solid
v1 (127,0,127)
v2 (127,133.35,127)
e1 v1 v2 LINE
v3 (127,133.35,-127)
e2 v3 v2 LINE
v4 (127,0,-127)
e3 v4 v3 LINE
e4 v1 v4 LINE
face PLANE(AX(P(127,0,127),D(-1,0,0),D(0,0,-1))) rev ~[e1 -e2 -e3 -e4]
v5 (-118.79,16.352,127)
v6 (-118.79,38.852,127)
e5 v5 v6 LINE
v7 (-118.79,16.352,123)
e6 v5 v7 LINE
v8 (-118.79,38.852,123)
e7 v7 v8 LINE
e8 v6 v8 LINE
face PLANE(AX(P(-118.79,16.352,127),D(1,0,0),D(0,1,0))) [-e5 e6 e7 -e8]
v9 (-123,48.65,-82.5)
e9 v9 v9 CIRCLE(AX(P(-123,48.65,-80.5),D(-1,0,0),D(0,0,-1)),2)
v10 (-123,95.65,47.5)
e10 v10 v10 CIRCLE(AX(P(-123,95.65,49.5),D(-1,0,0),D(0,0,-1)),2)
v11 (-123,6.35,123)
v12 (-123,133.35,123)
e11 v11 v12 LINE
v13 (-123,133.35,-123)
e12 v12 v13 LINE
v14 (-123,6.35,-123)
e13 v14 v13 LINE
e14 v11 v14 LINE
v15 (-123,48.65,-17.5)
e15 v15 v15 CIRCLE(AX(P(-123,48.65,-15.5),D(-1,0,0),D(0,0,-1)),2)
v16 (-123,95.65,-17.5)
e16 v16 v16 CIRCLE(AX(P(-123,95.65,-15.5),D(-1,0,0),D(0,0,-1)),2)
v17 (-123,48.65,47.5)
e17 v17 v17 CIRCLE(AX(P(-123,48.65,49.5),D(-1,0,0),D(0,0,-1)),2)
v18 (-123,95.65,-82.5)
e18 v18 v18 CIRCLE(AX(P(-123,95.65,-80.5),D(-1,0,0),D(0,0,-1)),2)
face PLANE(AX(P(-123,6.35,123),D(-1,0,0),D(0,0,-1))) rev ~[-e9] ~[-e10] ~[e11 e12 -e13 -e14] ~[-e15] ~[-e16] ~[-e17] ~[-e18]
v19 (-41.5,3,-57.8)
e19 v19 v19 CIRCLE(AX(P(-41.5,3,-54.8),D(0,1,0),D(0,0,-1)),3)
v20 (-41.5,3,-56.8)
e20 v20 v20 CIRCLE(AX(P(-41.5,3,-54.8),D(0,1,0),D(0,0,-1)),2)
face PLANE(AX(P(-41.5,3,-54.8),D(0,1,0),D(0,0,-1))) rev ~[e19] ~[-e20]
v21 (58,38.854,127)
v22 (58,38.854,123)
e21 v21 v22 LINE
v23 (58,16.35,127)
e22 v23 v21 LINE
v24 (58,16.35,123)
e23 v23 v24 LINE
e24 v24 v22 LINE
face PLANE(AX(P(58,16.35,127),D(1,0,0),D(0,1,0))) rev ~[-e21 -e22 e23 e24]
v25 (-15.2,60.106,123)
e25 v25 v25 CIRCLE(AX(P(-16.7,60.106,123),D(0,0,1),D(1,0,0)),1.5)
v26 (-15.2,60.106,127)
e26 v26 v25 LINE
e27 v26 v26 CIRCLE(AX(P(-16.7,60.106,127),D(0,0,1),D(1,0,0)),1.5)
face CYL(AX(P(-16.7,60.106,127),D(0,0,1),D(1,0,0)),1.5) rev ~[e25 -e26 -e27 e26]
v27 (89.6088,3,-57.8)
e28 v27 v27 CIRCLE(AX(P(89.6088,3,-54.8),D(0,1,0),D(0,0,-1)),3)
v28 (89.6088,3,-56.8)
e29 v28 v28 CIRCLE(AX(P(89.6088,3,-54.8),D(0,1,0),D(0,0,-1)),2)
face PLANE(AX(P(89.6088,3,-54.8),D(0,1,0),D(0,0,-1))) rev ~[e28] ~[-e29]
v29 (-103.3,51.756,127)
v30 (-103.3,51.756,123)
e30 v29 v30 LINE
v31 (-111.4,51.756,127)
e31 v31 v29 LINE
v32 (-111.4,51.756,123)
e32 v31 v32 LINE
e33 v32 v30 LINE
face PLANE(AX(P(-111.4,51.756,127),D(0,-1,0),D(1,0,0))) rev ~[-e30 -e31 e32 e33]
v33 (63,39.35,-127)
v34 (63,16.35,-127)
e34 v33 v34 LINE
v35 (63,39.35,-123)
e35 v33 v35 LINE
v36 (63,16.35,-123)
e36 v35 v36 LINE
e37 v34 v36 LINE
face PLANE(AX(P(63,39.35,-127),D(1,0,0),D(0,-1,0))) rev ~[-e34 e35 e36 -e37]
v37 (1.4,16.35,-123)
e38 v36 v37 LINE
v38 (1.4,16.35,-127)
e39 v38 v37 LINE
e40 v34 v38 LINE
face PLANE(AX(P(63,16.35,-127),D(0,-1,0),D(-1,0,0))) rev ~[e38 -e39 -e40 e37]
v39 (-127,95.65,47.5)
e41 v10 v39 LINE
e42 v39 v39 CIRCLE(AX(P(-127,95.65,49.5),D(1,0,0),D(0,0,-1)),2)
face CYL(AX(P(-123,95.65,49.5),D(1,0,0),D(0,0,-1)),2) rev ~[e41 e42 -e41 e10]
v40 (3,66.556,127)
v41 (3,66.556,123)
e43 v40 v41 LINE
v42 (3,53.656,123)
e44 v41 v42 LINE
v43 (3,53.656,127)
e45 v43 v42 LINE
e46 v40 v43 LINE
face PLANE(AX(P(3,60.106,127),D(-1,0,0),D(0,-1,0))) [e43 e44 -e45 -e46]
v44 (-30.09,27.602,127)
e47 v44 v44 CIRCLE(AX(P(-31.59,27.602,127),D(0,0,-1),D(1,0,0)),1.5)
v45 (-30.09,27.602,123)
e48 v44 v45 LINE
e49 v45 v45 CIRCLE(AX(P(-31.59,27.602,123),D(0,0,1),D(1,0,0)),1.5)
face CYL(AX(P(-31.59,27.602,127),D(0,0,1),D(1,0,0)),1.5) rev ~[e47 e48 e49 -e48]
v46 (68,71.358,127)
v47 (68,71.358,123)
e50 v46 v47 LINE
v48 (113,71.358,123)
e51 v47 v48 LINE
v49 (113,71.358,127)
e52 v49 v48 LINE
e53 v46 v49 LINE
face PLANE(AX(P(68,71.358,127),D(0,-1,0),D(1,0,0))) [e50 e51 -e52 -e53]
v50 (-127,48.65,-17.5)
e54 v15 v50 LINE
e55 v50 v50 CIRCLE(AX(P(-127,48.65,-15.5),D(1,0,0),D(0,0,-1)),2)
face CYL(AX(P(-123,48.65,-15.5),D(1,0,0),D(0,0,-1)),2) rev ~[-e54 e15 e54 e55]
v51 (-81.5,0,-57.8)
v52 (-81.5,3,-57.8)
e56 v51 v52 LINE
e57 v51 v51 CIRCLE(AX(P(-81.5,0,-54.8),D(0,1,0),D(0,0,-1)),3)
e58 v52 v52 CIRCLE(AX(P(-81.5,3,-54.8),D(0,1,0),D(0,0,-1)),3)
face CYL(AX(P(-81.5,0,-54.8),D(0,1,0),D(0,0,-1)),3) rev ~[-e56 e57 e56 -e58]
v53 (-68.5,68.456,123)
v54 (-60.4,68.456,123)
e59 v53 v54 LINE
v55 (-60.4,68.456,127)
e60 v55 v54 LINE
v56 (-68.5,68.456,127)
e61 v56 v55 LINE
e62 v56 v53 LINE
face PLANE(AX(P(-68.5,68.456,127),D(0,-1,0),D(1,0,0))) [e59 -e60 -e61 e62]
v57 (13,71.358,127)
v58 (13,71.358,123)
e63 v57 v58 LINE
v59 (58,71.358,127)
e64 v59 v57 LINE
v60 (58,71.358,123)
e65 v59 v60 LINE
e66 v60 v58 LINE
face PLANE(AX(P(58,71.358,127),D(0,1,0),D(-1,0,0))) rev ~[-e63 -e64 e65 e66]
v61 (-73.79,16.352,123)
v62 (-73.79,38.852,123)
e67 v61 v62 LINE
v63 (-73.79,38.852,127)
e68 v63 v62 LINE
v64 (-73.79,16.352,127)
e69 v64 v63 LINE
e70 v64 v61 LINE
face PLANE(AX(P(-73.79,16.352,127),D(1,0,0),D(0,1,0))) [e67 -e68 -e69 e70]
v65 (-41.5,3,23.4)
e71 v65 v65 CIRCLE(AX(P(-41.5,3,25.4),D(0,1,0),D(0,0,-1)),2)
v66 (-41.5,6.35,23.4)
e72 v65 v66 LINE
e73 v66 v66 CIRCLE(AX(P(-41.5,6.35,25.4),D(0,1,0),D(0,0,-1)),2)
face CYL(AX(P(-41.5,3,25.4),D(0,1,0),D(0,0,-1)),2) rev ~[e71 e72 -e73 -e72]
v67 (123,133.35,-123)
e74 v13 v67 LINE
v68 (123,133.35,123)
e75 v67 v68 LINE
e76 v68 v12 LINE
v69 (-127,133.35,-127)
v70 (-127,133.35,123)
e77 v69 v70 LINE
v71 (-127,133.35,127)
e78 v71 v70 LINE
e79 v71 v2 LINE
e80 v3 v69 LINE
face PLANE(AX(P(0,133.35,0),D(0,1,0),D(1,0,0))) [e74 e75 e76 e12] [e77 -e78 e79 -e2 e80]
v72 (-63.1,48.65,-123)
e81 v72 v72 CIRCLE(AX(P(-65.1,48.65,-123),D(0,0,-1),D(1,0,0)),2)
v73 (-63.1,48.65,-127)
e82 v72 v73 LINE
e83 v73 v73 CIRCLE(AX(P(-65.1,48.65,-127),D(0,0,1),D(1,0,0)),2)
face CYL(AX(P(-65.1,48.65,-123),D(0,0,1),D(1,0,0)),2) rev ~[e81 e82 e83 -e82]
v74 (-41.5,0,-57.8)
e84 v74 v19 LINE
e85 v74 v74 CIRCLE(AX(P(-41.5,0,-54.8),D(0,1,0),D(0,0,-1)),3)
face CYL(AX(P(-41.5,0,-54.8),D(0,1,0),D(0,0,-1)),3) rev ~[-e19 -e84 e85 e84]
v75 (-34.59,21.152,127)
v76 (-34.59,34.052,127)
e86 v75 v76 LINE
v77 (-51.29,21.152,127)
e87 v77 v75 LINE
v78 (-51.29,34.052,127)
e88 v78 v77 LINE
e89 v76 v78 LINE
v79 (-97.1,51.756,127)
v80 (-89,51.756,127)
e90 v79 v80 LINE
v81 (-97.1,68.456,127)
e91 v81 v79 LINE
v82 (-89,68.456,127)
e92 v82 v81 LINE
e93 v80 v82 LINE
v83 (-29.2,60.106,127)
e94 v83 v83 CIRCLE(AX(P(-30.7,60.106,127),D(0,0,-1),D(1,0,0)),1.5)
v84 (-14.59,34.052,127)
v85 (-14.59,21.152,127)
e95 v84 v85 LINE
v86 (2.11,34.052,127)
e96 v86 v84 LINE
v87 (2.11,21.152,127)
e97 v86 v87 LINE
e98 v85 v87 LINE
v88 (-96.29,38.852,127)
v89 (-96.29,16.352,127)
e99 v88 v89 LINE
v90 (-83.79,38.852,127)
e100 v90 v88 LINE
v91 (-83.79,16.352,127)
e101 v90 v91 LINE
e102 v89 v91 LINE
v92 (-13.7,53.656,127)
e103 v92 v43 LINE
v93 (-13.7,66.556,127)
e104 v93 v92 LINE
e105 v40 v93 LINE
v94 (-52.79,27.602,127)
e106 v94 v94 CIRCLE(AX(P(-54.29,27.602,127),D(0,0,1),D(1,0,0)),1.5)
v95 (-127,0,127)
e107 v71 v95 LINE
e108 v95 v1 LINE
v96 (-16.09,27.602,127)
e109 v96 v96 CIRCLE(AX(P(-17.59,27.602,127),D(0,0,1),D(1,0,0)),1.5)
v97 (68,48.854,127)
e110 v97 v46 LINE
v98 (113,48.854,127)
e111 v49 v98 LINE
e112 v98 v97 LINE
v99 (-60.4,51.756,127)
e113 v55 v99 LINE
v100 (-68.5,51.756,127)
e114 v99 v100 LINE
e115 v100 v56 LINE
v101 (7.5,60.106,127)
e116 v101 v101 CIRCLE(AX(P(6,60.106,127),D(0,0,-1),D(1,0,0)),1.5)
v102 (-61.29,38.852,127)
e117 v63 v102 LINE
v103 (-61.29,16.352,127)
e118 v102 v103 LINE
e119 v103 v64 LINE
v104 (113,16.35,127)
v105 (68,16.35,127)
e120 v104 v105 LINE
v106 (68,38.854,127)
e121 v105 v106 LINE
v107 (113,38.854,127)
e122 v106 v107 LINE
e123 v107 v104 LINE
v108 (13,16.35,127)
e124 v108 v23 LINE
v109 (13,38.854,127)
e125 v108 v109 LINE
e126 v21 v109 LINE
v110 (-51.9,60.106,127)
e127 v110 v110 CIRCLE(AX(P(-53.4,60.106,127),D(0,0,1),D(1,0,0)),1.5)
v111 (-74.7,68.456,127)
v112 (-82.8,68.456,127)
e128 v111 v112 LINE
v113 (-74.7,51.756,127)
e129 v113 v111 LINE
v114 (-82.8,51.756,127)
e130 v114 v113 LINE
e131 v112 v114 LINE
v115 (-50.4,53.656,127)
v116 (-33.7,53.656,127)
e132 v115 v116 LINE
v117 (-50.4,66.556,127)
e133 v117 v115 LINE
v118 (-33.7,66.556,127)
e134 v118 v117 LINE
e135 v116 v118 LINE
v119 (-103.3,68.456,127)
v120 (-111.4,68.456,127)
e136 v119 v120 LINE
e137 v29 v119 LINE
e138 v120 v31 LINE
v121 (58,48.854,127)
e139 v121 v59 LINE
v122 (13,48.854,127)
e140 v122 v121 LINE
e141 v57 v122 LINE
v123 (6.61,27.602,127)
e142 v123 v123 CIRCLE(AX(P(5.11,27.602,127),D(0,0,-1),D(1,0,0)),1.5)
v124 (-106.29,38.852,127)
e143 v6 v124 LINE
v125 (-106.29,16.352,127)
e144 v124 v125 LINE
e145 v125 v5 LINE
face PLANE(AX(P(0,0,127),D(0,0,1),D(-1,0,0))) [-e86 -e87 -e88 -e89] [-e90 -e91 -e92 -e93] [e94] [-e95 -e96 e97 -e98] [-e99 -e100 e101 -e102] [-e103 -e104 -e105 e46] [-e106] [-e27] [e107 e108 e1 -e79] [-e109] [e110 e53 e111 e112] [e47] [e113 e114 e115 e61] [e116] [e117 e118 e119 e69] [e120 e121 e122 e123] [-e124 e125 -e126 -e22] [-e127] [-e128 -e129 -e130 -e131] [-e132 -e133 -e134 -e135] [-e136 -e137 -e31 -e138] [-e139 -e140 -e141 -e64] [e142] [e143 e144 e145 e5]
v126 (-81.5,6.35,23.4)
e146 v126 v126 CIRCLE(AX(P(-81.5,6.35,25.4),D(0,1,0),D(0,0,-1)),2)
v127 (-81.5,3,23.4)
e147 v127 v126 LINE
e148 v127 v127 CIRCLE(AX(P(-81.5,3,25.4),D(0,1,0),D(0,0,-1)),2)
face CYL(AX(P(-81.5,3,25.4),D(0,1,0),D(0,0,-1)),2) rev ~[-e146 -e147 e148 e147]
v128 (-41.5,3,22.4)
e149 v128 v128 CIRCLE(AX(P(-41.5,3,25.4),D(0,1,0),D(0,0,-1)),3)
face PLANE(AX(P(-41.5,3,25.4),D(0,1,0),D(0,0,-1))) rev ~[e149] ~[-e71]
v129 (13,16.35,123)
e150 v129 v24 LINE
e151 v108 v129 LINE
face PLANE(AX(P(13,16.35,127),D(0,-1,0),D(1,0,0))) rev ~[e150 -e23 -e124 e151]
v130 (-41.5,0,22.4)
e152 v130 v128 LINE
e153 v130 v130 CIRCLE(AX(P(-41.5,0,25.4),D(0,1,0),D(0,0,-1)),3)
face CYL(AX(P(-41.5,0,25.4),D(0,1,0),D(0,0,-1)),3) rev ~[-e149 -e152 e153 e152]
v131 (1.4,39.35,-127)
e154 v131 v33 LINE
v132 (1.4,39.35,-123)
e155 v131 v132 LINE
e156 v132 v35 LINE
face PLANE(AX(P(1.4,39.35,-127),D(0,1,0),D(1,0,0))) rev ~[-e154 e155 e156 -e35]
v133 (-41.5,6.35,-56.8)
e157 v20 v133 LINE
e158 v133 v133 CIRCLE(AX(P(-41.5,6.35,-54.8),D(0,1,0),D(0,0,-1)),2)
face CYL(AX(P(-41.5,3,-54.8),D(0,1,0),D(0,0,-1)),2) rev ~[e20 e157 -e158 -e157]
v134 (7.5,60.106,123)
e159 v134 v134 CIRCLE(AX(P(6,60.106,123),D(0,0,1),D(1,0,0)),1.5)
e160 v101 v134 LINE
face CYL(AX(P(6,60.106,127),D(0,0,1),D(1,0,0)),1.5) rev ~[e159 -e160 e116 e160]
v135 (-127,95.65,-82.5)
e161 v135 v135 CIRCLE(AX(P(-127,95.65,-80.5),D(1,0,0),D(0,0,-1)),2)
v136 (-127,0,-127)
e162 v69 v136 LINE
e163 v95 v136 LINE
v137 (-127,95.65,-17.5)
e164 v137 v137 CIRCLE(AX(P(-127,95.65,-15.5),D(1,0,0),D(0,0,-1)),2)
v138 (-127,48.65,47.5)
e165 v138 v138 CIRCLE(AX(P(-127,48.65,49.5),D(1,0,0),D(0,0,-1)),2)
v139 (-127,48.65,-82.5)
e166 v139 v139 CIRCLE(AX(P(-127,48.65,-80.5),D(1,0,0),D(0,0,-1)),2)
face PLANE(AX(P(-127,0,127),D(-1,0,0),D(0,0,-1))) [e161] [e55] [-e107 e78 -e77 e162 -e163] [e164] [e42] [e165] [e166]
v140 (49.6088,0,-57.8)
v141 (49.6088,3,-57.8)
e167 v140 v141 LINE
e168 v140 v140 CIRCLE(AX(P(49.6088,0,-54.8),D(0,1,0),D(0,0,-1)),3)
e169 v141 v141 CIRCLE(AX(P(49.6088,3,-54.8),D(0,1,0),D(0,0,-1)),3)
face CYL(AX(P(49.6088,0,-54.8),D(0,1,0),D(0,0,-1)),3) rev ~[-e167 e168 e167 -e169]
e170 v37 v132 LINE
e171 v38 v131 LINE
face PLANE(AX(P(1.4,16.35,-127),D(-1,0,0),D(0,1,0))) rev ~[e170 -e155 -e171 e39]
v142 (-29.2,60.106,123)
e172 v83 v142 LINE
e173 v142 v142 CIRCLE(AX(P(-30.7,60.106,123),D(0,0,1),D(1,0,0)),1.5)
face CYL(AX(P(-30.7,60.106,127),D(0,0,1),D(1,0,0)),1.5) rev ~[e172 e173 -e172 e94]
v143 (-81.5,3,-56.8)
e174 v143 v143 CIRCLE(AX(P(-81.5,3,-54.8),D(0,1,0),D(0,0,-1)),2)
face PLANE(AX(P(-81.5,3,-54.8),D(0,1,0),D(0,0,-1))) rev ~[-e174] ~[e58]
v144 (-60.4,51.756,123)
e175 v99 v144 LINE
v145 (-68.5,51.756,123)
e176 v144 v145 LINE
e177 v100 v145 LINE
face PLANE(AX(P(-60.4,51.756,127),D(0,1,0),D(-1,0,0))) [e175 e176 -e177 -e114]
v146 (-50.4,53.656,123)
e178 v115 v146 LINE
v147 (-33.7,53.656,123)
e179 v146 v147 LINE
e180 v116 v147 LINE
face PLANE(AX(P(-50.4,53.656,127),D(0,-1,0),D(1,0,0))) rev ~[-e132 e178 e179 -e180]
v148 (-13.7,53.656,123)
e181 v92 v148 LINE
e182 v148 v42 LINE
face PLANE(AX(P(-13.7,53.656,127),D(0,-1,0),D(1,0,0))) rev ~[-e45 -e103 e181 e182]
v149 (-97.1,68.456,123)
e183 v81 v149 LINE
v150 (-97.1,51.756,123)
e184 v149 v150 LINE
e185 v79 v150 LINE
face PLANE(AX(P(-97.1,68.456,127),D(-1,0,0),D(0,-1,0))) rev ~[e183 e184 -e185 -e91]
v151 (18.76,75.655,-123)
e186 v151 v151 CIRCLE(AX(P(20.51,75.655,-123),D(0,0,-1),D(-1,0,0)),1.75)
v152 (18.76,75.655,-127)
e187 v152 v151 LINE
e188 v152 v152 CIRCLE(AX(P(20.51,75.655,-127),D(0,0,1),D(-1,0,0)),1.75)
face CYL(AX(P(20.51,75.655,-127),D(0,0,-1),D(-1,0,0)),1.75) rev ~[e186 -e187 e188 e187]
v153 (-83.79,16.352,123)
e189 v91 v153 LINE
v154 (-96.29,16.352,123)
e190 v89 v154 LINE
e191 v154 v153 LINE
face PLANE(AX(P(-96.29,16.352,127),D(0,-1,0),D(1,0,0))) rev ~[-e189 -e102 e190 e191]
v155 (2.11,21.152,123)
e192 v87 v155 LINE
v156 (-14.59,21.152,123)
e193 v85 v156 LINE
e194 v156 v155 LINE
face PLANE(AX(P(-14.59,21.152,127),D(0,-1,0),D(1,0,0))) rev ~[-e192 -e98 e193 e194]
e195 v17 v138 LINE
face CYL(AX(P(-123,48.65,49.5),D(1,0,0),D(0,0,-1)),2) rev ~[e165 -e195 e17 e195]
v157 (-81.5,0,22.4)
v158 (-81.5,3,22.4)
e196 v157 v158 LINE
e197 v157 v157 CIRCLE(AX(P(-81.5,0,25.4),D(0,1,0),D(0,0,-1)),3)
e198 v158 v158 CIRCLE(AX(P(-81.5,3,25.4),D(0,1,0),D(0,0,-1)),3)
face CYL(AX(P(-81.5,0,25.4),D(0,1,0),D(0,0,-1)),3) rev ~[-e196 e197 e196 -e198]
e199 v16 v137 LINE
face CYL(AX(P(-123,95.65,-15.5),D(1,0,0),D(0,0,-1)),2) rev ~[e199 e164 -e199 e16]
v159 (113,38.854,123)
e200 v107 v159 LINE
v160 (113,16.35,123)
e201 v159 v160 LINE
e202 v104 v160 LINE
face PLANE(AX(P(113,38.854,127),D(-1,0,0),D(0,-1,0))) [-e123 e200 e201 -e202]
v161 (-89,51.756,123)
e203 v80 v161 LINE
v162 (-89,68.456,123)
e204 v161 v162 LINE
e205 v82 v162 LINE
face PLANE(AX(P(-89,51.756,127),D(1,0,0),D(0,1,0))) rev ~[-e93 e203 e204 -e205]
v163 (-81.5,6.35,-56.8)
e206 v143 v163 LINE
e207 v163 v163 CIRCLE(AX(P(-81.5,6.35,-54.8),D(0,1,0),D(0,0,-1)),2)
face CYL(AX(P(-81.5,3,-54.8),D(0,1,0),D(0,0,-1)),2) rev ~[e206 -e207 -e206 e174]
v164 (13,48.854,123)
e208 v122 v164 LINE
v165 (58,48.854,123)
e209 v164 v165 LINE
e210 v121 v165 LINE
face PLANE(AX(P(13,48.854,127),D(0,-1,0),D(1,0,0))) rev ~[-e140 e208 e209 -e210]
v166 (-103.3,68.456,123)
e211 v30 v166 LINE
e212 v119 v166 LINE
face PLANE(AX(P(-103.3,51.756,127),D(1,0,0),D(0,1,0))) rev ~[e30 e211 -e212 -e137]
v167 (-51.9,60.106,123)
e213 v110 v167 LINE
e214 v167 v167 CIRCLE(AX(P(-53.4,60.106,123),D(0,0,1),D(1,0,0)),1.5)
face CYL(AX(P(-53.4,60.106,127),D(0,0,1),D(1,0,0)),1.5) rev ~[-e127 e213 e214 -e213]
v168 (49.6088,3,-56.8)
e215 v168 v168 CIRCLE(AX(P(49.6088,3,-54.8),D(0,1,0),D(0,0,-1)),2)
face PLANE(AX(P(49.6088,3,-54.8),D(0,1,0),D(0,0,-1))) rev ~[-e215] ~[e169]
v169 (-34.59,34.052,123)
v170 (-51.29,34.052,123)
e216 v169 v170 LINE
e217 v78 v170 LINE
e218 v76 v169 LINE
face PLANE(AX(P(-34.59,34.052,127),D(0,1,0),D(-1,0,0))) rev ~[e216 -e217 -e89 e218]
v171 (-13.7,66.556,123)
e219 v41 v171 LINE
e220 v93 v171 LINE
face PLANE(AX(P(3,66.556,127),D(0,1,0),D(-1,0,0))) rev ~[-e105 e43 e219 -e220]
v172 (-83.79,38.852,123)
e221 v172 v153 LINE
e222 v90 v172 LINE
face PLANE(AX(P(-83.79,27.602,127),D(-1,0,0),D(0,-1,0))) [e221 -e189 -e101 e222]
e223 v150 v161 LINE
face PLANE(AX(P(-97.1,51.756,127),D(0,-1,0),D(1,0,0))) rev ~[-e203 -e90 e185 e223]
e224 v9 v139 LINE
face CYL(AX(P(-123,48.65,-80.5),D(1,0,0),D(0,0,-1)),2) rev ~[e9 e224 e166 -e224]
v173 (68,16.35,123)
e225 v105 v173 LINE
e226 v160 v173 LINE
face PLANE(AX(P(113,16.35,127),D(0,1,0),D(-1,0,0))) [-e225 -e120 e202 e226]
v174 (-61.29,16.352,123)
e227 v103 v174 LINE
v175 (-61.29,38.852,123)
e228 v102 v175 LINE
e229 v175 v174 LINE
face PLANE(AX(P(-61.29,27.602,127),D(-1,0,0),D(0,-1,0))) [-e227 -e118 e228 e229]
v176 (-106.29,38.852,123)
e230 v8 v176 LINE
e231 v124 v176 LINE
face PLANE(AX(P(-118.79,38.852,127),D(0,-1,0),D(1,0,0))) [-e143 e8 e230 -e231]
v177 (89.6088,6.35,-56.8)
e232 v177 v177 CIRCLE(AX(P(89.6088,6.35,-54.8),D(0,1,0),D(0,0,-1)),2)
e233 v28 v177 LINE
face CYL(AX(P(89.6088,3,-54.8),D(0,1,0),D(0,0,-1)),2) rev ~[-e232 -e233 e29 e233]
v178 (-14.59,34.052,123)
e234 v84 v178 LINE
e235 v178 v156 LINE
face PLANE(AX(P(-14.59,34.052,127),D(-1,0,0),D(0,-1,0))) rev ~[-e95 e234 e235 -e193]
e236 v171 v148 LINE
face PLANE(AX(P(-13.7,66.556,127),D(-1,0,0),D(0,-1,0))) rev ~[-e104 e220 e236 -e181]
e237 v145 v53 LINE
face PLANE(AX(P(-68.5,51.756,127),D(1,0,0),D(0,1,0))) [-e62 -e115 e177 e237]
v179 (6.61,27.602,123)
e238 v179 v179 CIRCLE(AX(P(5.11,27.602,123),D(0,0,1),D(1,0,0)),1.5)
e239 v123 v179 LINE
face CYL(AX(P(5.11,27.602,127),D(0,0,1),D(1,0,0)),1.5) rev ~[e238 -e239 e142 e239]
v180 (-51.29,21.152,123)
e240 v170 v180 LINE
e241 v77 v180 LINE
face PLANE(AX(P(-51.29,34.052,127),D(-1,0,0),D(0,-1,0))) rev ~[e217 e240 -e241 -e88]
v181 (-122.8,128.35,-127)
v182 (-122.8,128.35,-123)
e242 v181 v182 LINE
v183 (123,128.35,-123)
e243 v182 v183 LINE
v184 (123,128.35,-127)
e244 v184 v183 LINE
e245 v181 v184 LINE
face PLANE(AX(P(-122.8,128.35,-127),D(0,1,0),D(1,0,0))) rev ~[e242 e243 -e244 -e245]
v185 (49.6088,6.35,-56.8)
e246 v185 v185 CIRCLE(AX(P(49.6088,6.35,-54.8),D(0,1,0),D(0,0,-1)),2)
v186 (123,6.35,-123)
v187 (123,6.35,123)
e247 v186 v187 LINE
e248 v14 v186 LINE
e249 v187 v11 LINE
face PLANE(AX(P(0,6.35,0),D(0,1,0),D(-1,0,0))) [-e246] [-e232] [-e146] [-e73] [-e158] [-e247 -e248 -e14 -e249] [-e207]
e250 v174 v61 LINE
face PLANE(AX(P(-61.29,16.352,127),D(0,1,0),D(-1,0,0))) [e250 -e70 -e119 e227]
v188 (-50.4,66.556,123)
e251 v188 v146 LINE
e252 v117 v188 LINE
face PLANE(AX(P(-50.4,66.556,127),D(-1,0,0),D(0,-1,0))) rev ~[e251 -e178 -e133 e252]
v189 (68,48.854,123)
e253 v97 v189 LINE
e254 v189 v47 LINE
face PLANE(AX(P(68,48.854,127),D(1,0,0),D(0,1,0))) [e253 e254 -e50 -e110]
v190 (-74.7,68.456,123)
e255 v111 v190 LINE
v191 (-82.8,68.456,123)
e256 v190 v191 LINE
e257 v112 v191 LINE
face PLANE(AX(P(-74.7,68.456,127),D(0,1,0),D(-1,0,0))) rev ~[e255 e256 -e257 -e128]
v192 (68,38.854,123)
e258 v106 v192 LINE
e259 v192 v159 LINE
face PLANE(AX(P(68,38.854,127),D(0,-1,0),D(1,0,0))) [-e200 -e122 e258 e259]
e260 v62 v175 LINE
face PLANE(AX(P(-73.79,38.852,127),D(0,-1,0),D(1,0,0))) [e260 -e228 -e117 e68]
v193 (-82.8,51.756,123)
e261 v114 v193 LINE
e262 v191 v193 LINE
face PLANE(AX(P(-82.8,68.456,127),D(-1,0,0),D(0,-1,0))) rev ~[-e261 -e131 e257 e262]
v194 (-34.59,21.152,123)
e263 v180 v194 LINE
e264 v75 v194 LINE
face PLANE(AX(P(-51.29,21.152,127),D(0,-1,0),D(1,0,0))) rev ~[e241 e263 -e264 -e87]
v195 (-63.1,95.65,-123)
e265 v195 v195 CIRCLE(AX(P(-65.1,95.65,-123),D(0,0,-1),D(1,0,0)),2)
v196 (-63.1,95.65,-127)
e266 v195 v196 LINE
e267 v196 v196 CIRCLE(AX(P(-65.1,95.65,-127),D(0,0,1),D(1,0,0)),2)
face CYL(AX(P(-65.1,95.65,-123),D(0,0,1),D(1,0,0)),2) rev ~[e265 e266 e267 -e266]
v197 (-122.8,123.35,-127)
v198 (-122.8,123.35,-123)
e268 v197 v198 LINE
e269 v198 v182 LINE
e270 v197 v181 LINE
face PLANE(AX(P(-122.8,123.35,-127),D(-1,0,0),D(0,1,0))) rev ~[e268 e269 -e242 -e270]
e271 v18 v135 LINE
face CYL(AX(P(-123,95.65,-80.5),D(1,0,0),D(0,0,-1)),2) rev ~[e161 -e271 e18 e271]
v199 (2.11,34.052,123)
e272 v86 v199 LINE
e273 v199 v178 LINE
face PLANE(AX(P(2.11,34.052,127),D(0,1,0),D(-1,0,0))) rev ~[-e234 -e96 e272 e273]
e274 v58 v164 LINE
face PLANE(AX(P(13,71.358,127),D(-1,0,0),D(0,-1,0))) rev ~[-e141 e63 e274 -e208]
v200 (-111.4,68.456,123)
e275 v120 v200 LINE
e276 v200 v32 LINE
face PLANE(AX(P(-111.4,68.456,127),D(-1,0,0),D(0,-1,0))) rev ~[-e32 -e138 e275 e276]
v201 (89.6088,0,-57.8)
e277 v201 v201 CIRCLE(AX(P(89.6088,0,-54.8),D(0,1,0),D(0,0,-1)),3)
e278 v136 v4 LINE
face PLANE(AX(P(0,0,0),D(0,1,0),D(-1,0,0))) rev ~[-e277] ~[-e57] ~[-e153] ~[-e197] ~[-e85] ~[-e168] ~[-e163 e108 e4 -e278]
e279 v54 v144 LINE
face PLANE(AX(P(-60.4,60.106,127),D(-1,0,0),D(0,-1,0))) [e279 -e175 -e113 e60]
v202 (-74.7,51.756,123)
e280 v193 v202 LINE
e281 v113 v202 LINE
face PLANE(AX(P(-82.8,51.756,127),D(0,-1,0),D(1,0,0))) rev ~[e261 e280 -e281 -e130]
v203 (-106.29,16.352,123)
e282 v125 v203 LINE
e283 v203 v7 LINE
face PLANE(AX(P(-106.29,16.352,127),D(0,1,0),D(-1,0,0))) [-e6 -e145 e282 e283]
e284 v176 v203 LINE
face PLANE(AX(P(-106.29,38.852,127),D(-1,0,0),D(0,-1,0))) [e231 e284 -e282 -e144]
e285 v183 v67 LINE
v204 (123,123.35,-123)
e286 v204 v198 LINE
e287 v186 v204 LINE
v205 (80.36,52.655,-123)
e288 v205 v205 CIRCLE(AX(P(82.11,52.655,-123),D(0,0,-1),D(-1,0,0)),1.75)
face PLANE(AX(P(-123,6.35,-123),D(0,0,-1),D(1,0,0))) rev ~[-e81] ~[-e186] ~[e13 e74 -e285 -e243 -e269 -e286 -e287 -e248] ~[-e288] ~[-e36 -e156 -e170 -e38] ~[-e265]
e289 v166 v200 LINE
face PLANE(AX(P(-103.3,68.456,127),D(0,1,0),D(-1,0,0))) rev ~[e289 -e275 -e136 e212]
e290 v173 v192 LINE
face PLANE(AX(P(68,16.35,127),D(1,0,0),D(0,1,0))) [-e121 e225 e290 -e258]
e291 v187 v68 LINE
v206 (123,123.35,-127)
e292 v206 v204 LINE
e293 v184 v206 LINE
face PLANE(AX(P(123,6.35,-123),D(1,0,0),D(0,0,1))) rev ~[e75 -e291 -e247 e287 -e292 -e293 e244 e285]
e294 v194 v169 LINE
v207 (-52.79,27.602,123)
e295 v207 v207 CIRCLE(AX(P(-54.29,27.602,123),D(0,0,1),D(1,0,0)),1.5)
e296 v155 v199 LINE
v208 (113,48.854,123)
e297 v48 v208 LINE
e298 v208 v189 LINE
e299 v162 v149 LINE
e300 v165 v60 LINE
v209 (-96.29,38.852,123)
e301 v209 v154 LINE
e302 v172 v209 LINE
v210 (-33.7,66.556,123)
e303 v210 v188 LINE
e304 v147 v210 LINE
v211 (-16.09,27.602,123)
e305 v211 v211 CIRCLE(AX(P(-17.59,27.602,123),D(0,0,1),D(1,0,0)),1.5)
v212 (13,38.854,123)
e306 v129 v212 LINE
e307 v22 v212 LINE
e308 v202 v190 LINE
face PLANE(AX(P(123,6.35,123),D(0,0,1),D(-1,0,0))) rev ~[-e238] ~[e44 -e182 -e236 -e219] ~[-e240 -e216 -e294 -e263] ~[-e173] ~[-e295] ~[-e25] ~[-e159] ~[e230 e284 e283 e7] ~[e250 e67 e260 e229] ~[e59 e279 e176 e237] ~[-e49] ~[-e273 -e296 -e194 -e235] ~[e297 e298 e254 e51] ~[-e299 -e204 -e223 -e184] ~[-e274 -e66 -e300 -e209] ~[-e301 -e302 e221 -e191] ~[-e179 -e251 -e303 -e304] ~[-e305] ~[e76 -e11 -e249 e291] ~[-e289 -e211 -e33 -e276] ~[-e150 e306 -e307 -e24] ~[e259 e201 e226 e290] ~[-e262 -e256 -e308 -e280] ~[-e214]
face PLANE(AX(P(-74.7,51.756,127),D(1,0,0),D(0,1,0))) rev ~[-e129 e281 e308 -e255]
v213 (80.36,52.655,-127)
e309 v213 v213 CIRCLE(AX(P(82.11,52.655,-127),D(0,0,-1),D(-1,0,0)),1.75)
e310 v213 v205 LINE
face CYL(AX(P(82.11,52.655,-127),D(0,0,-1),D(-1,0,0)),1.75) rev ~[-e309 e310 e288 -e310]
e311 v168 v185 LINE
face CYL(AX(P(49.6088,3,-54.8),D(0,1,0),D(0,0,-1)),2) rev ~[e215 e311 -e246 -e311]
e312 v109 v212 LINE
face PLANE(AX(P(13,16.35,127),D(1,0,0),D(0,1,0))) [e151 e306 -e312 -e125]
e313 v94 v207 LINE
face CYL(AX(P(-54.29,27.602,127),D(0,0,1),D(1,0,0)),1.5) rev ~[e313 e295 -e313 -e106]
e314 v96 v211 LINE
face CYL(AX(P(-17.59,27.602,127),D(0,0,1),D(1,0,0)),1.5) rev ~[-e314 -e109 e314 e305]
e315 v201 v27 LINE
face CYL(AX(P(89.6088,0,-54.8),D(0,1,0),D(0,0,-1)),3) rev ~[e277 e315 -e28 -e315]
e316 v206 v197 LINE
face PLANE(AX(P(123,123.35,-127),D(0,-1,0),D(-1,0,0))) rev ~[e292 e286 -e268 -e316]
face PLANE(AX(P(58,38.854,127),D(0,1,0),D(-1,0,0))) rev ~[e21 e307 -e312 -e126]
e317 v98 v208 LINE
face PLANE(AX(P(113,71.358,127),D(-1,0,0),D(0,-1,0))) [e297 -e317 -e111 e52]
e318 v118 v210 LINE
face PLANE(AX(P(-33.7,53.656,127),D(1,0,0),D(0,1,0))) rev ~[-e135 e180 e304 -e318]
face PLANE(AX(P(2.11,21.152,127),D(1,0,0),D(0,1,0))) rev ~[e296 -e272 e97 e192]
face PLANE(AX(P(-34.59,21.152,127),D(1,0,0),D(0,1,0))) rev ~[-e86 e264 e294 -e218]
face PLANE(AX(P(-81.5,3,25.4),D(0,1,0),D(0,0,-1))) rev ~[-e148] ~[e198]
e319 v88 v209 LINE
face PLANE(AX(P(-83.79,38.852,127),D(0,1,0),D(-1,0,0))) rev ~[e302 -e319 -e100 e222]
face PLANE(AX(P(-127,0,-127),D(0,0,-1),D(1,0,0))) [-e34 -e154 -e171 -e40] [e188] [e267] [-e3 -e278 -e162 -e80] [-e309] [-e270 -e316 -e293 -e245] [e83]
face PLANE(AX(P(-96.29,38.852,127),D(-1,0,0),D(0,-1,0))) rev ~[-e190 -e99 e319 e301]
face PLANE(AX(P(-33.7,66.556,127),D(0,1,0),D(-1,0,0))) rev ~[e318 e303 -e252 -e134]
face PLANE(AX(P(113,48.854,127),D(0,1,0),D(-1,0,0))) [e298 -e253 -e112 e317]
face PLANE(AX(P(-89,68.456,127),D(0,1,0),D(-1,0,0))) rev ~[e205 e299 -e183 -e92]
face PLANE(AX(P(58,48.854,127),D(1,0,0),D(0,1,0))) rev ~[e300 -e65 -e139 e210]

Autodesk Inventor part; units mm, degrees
ref_plane "YZ Plane" through (0, 0, 0) normal (1, 0, 0) x (0, 1, 0)
ref_plane "XZ Plane" through (0, 0, 0) normal (0, 1, 0) x (-1, 0, 0)
ref_plane "XY Plane" through (0, 0, 0) normal (0, 0, 1) x (1, 0, 0)
sketch "Sketch1" plane through (0, 0, 0) normal (0, 1, 0) x (-1, 0, 0)
  line L0 (0, 0) -> (0, 127)
  line L1 (0, 127) -> (127, 127)
  line L2 (127, 127) -> (127, -127)
  line L3 (127, -127) -> (-127, -127)
  line L4 (0, 127) -> (-127, 127)
  line L5 (-127, 127) -> (-127, -127)
  dimension "d0" = 127
  dimension "d1" = 127
  dimension "d2" = 254
  dimension "d3" = 254
  dimension "d4" = 127
extrude "Extrusion1" add sketch "Sketch1" along normal blind 6.35
sketch "Sketch2" plane through (0, 6.35, 0) normal (0, 1, 0) x (1, 0, 0)
  line L0 (-127, -127) -> (127, -127) projected
  line L1 (-127, -127) -> (-127, -123)
  line L2 (-127, 127) -> (-127, -127) projected
  line L3 (-127, -123) -> (-123, -123)
  line L4 (-123, -123) -> (-123, 123)
  line L5 (-123, 123) -> (123, 123)
  line L6 (127, 127) -> (-127, 127) projected
  line L7 (123, 123) -> (123, -123)
  line L8 (123, -123) -> (-123, -123)
  line L9 (-127, -127) -> (127, -127)
  line L10 (127, 127) -> (127, -127)
  line L11 (-127, 127) -> (127, 127)
  line L12 (-127, 127) -> (-127, -127)
  point P0 (0, 0)
  dimension "d7" = 4
  dimension "d8" = 4
  dimension "d9" = 246
  dimension "d10" = 246
  dimension "d11" = 90
extrude "Extrusion2" add sketch "Sketch2" along normal blind 127
sketch "Sketch3" plane through (-127, 0, 127) normal (0, 0, 1) x (1, 0, 0)
  line L0 (4, 6.35) -> (250, 6.35) projected
  line L1 (250, 6.35) -> (250, 16.35)
  line L2 (250, 6.35) -> (250, 133.35) projected
  line L3 (250, 16.35) -> (240, 16.35)
  line L4 (240, 16.35) -> (195, 16.35)
  line L5 (195, 16.35) -> (195, 38.854)
  line L6 (195, 38.854) -> (240, 38.854)
  line L7 (240, 38.854) -> (240, 16.35)
  line L8 (240, 38.854) -> (240, 48.854)
  line L9 (240, 48.854) -> (195, 48.854)
  line L10 (195, 48.854) -> (195, 71.358)
  line L11 (195, 71.358) -> (240, 71.358)
  line L12 (240, 71.358) -> (240, 48.854)
  line L13 (195, 48.854) -> (185, 48.854)
  line L14 (185, 48.854) -> (185, 71.358)
  line L15 (185, 71.358) -> (140, 71.358)
  line L16 (140, 71.358) -> (140, 48.854)
  line L17 (140, 48.854) -> (185, 48.854)
  line L18 (185, 48.854) -> (185, 38.854)
  line L19 (185, 38.854) -> (140, 38.854)
  line L20 (140, 16.35) -> (140, 38.854)
  line L21 (140, 16.35) -> (185, 16.35)
  line L22 (185, 16.35) -> (185, 38.854)
  point P0 (127, 0)
  dimension "d14" = 10
  dimension "d15" = 10
  dimension "d16" = 45
  dimension "d17" = 22.504
  dimension "d18" = 10
  dimension "d19" = 22.504
  dimension "d20" = 10
  dimension "d21" = 45
sketch "Sketch4" plane through (-127, 0, 127) normal (0, 0, 1) x (1, 0, 0)
  line L0 (140, 71.358) -> (140, 48.854) projected
  line L1 (0, 0) -> (254, 0) projected
  line L2 (254, 0) -> (254, 133.35) projected
  line L3 (0, 133.35) -> (254, 133.35) projected
  line L4 (0, 0) -> (0, 133.35) projected
  line L5 (140, 16.35) -> (140, 38.854) projected
  line L6 (140, 60.106) -> (130, 60.106)
  line L7 (130, 60.106) -> (130, 66.556)
  line L8 (130, 66.556) -> (130, 60.106)
  line L9 (130, 60.106) -> (130, 53.656)
  line L10 (130, 66.556) -> (113.3, 66.556)
  line L11 (113.3, 66.556) -> (113.3, 53.656)
  line L12 (113.3, 53.656) -> (130, 53.656)
  line L13 (113.3, 66.556) -> (93.3, 66.556)
  line L14 (93.3, 66.556) -> (76.6, 66.556)
  line L15 (76.6, 66.556) -> (76.6, 53.656)
  line L16 (76.6, 53.656) -> (93.3, 53.656)
  line L17 (93.3, 53.656) -> (93.3, 66.556)
  line L18 (140, 27.602) -> (129.11, 27.602)
  line L19 (129.11, 27.602) -> (129.11, 34.052)
  line L20 (129.11, 34.052) -> (112.41, 34.052)
  line L21 (112.41, 34.052) -> (112.41, 21.152)
  line L22 (112.41, 21.152) -> (129.11, 21.152)
  line L23 (129.11, 21.152) -> (129.11, 27.602)
  line L24 (112.41, 34.052) -> (92.41, 34.052)
  line L25 (92.41, 34.052) -> (75.71, 34.052)
  line L26 (75.71, 21.152) -> (92.41, 21.152)
  line L27 (92.41, 21.152) -> (92.41, 34.052)
  line L28 (75.71, 34.052) -> (75.71, 21.152)
  point P0 (127, 0)
  dimension "d22" = 10
  dimension "d23" = 6.45
  dimension "d24" = 6.45
  dimension "d25" = 16.7
  dimension "d26" = 20
  dimension "d27" = 16.7
  dimension "d28" = 6.45
  dimension "d29" = 12.9
  dimension "d162" = 20
  dimension "d163" = 16.7
  dimension "d164" = 16.7
extrude "Extrusion4" cut sketch "Sketch4" against normal blind 101.6 contours L9 L12 L11 L10 L7 | L17 L16 L15 L14 | L23 L22 L21 L20 L19 | L27 L26 L28 L25
extrude "Extrusion5" cut sketch "Sketch3" against normal blind 19
sketch "Sketch6" plane through (-127, 0, 127) normal (0, 0, 1) x (1, 0, 0)
  line L0 (76.6, 53.656) -> (76.6, 66.556) projected
  line L1 (76.6, 60.106) -> (66.6, 60.106)
  line L2 (66.6, 60.106) -> (66.6, 51.756)
  line L3 (66.6, 51.756) -> (58.5, 51.756)
  line L4 (58.5, 51.756) -> (58.5, 68.456)
  line L5 (58.5, 68.456) -> (66.6, 68.456)
  line L6 (66.6, 68.456) -> (66.6, 60.106)
  line L7 (58.5, 68.456) -> (55.4, 68.456)
  line L8 (55.4, 68.456) -> (52.3, 68.456)
  line L9 (52.3, 68.456) -> (44.2, 68.456)
  line L10 (44.2, 68.456) -> (44.2, 51.756)
  line L11 (44.2, 51.756) -> (52.3, 51.756)
  line L12 (52.3, 51.756) -> (52.3, 68.456)
  line L13 (44.2, 68.456) -> (38, 68.456)
  line L14 (38, 68.456) -> (29.9, 68.456)
  line L15 (29.9, 68.456) -> (29.9, 51.756)
  line L16 (29.9, 51.756) -> (38, 51.756)
  line L17 (38, 51.756) -> (38, 68.456)
  line L18 (29.9, 68.456) -> (23.7, 68.456)
  line L19 (23.7, 68.456) -> (15.6, 68.456)
  line L20 (15.6, 68.456) -> (15.6, 51.756)
  line L21 (15.6, 51.756) -> (23.7, 51.756)
  line L22 (23.7, 51.756) -> (23.7, 68.456)
  point P0 (127, 0)
  dimension "d38" = 10
  dimension "d39" = 8.35
  dimension "d40" = 8.1
  dimension "d41" = 16.7
  dimension "d42" = 3.1
  dimension "d43" = 3.1
  dimension "d44" = 8.1
  dimension "d45" = 6.2
  dimension "d46" = 8.1
  dimension "d47" = 6.2
  dimension "d48" = 8.1
sketch "Sketch7" plane through (-127, 0, 127) normal (0, 0, 1) x (1, 0, 0)
  line L0 (85.71, 27.602) -> (65.71, 27.602)
  line L1 (65.71, 27.602) -> (65.71, 38.852)
  line L2 (65.71, 27.602) -> (65.71, 16.352)
  line L3 (65.71, 16.352) -> (53.21, 16.352)
  line L4 (53.21, 16.352) -> (53.21, 38.852)
  line L5 (53.21, 38.852) -> (65.71, 38.852)
  line L6 (53.21, 27.602) -> (43.21, 27.602)
  line L7 (43.21, 27.602) -> (43.21, 38.852)
  line L8 (43.21, 38.852) -> (30.71, 38.852)
  line L9 (30.71, 38.852) -> (30.71, 16.352)
  line L10 (30.71, 16.352) -> (43.21, 16.352)
  line L11 (43.21, 27.602) -> (43.21, 16.352)
  line L12 (30.71, 38.852) -> (20.71, 38.852)
  line L13 (20.71, 38.852) -> (20.71, 16.352)
  line L14 (20.71, 16.352) -> (8.21, 16.352)
  line L15 (8.21, 16.352) -> (8.21, 38.852)
  line L16 (8.21, 38.852) -> (20.71, 38.852)
  point P0 (127, 0)
  dimension "d49" = 20
  dimension "d50" = 11.25
  dimension "d51" = 11.25
  dimension "d52" = 12.5
  dimension "d53" = 10
  dimension "d54" = 12.5
  dimension "d55" = 10
  dimension "d56" = 12.5
extrude "Extrusion9" cut sketch "Sketch6" against normal blind 19
extrude "Extrusion11" cut sketch "Sketch7" against normal blind 10
sketch "Sketch12" plane through (0, 0, 0) normal (0, 1, 0) x (1, 0, 0)
  line L0 (-123, -123) -> (123, -123) projected
  line L1 (89.6088, -123) -> (89.6088, 4)
  line L2 (89.6088, -123) -> (216.6088, -123) construction
  line L3 (89.6088, 4) -> (89.6088, 54.8)
  line L4 (89.6088, 54.8) -> (49.6088, 54.8)
  circle A0 centre (89.6088, 54.8) radius 1.75
  circle A1 centre (49.6088, 54.8) radius 1.75
  line L5 (34.61, -135.8133) -> (161.61, -135.8133) construction
  line L6 (-61.29, -127) -> (-61.29, -123) projected
  line L7 (-61.29, -123) -> (65.71, -123) construction
  line L8 (-127, -127) -> (127, -127) projected
  line L9 (0, -127) -> (-61.5, -127)
  line L10 (-61.5, -127) -> (-61.5, -25.4)
  line L11 (-61.5, -25.4) -> (-81.5, -25.4)
  line L12 (-81.5, -25.4) -> (-41.5, -25.4)
  line L13 (-41.5, -25.4) -> (-41.5, 54.8)
  line L14 (-41.5, 54.8) -> (-81.5, 54.8)
  circle A2 centre (-41.5, -25.4) radius 1.75
  circle A3 centre (-81.5, -25.4) radius 1.75
  circle A4 centre (-81.5, 54.8) radius 1.75
  circle A5 centre (-41.5, 54.8) radius 1.75
  dimension "d84" = 127
  dimension "d85" = 90
  dimension "d86" = 50.8
  dimension "d87" = 40
  dimension "d88" = 3.5
  dimension "d89" = 3.5
  dimension "d97" = 61.5
  dimension "d98" = 101.6
  dimension "d99" = 20
  dimension "d100" = 40
  dimension "d101" = 40
  dimension "d102" = 3.5
  dimension "d103" = 3.5
  dimension "d104" = 3.5
  dimension "d105" = 3.5
sketch "Sketch13" plane through (-123, 6.35, 123) normal (1, 0, 0) x (0, 0, -1)
  line L0 (246, 127) -> (236, 127)
  line L1 (0, 127) -> (246, 127) projected
  line L2 (236, 127) -> (226, 127)
  line L3 (226, 127) -> (226, 94.3)
  line L4 (226, 94.3) -> (181, 94.3)
  line L5 (181, 94.3) -> (181, 37.3)
  line L6 (181, 37.3) -> (226, 37.3)
  line L7 (226, 37.3) -> (226, 94.3)
  line L8 (181, 94.3) -> (161, 94.3)
  line L9 (161, 94.3) -> (161, 37.3)
  line L10 (161, 37.3) -> (116, 37.3)
  line L11 (116, 37.3) -> (116, 94.3)
  line L12 (116, 94.3) -> (161, 94.3)
  line L13 (116, 94.3) -> (96, 94.3)
  line L14 (116, 94.3) -> (136, 94.3) construction
  line L15 (96, 94.3) -> (96, 37.3)
  line L16 (96, 37.3) -> (51, 37.3)
  line L17 (51, 37.3) -> (51, 94.3)
  line L18 (51, 94.3) -> (96, 94.3)
  line L19 (73.5, 94.3) -> (73.5, 89.3)
  line L20 (73.5, 37.3) -> (73.5, 42.3)
  line L21 (138.5, 94.3) -> (138.5, 89.3)
  line L22 (138.5, 89.3) -> (138.5, 42.3)
  line L23 (203.5, 94.3) -> (203.5, 89.3)
  line L24 (203.5, 89.3) -> (203.5, 42.3)
  circle A0 centre (73.5, 42.3) radius 2
  circle A1 centre (73.5, 89.3) radius 2
  circle A2 centre (138.5, 89.3) radius 2
  circle A3 centre (138.5, 42.3) radius 2
  circle A4 centre (203.5, 42.3) radius 2
  circle A5 centre (203.5, 89.3) radius 2
  line L25 (51, 94.3) -> (31, 94.3)
  line L26 (51, 94.3) -> (71, 94.3) construction
  point P0 (123, -6.35)
  dimension "d108" = 10
  dimension "d109" = 10
  dimension "d110" = 32.7
  dimension "d111" = 90
  dimension "d112" = 45
  dimension "d113" = 57
  dimension "d114" = 20
  dimension "d115" = 45
  dimension "d116" = 20
  dimension "d117" = 180
  dimension "d118" = 57
  dimension "d119" = 45
  dimension "d120" = 5
  dimension "d121" = 5
  dimension "d122" = 5
  dimension "d123" = 4
  dimension "d124" = 4
  dimension "d125" = 4
  dimension "d126" = 4
  dimension "d127" = 4
  dimension "d128" = 4
  dimension "d151" = 20
  dimension "d152" = 180
sketch "Sketch17" plane through (-127, 0, 127) normal (0, 0, 1) x (1, 0, 0)
  line L0 (93.3, 53.656) -> (93.3, 66.556) projected
  line L1 (93.3, 60.106) -> (96.3, 60.106)
  line L2 (96.3, 60.106) -> (100.3, 60.106)
  circle A0 centre (96.3, 60.106) radius 1.5
  line L3 (76.6, 53.656) -> (76.6, 66.556) projected
  line L4 (76.6, 60.106) -> (73.6, 60.106)
  line L5 (75.71, 21.152) -> (75.71, 34.052) projected
  line L6 (75.71, 27.602) -> (72.71, 27.602)
  line L7 (92.41, 34.052) -> (92.41, 21.152) projected
  line L8 (92.41, 27.602) -> (95.41, 27.602)
  line L9 (113.3, 53.656) -> (113.3, 66.556) projected
  line L10 (113.3, 60.106) -> (110.3, 60.106)
  line L11 (112.41, 21.152) -> (112.41, 34.052) projected
  line L12 (112.41, 27.602) -> (109.41, 27.602)
  line L13 (129.11, 34.052) -> (129.11, 21.152) projected
  line L14 (129.11, 27.602) -> (132.11, 27.602)
  line L15 (130, 66.556) -> (130, 53.656) projected
  line L16 (130, 60.106) -> (133, 60.106)
  circle A1 centre (110.3, 60.106) radius 1.5
  circle A2 centre (133, 60.106) radius 1.5
  circle A3 centre (132.11, 27.602) radius 1.5
  circle A4 centre (95.41, 27.602) radius 1.5
  circle A5 centre (109.41, 27.602) radius 1.5
  circle A6 centre (72.71, 27.602) radius 1.5
  circle A7 centre (73.6, 60.106) radius 1.5
  point P0 (127, 0)
  dimension "d147" = 3
  dimension "d148" = 4
  dimension "d150" = 3
  dimension "d165" = 3
  dimension "d166" = 3
  dimension "d167" = 3
  dimension "d168" = 3
  dimension "d169" = 3
  dimension "d170" = 3
  dimension "d171" = 3
  dimension "d172" = 3
  dimension "d173" = 3
  dimension "d174" = 3
  dimension "d175" = 3
  dimension "d176" = 3
  dimension "d177" = 3
  dimension "d178" = 3
sketch "Sketch18" plane through (-123, 6.35, -123) normal (0, 0, 1) x (1, 0, 0)
  line L0 (0, 127) -> (35.4, 127)
  line L1 (0, 127) -> (246, 127) projected
  line L2 (35.4, 127) -> (35.4, 94.3)
  line L3 (35.4, 94.3) -> (80.4, 94.3)
  line L4 (80.4, 94.3) -> (80.4, 37.3)
  line L5 (80.4, 37.3) -> (35.4, 37.3)
  line L6 (35.4, 37.3) -> (35.4, 94.3)
  line L7 (57.9, 94.3) -> (57.9, 89.3)
  line L8 (57.9, 89.3) -> (57.9, 42.3)
  circle A0 centre (57.9, 89.3) radius 2
  circle A1 centre (57.9, 42.3) radius 2
  point P0 (123, -6.35)
  dimension "d153" = 35.4
  dimension "d154" = 32.7
  dimension "d155" = 90
  dimension "d156" = 45
  dimension "d157" = 57
  dimension "d158" = 5
  dimension "d159" = 47
  dimension "d160" = 4
  dimension "d161" = 4
extrude "Extrusion18" cut sketch "Sketch17" against normal blind 10
sketch "Sketch19" plane through (127, 0, -127) normal (0, 0, -1) x (-1, 0, 0)
  line L0 (4, 6.35) -> (4, 133.35) projected
  line L1 (4, 6.35) -> (64, 6.35)
  line L2 (4, 6.35) -> (250, 6.35) projected
  line L3 (64, 6.35) -> (64, 16.35)
  line L4 (64, 16.35) -> (125.6, 16.35)
  line L5 (14, 16.35) -> (59, 16.35) projected
  line L6 (125.6, 16.35) -> (125.6, 39.35)
  line L7 (125.6, 39.35) -> (64, 39.35)
  line L8 (59, 38.854) -> (14, 38.854) projected
  line L9 (64, 39.35) -> (64, 16.35)
  point P0 (127, 0)
  dimension "d204" = 60
  dimension "d205" = 10
  dimension "d206" = 61.6
  dimension "d207" = 23
  dimension "d208" = 61.6
  dimension "d209" = 90
extrude "Extrusion21" cut sketch "Sketch19" against normal blind 5
sketch "Sketch20" plane through (127, 0, -127) normal (0, 0, -1) x (-1, 0, 0)
  line L0 (44.89, 52.655) -> (106.49, 52.655)
  line L1 (44.89, 52.655) -> (106.49, 52.655) construction
  line L2 (106.49, 52.655) -> (106.49, 75.655)
  circle A0 centre (44.89, 52.655) radius 1.75
  circle A1 centre (106.49, 75.655) radius 1.75
  line L3 (61, 43.854) -> (4, 43.854) projected
  line L4 (64, 39.35) -> (125.6, 39.35) projected
  point P0 (127, 0)
  dimension "d190" = 61.6
  dimension "d191" = 0
  dimension "d192" = 23
  dimension "d193" = 90
  dimension "d194" = 3.5
  dimension "d195" = 3.5
extrude "Extrusion20" cut sketch "Sketch20" against normal blind 127
sketch "Sketch21" plane through (127, 0, -127) normal (0, 0, -1) x (-1, 0, 0)
  line L0 (0, 0) -> (0, 133.35) projected
  line L1 (0, 133.35) -> (4.2, 133.35)
  line L2 (254, 133.35) -> (0, 133.35) projected
  line L3 (250, 133.35) -> (4, 133.35) projected
  line L4 (4, 133.35) -> (4, 128.35)
  line L5 (4, 133.35) -> (9, 133.35) construction
  line L6 (254, 0) -> (254, 133.35) projected
  line L7 (254, 133.35) -> (249.8, 133.35)
  line L8 (249.8, 133.35) -> (249.8, 128.35)
  line L9 (250, 6.35) -> (250, 133.35) projected
  line L10 (249.8, 128.35) -> (4, 128.35)
  line L11 (4, 128.35) -> (4, 123.35)
  line L12 (4, 6.35) -> (4, 133.35) projected
  line L13 (4, 123.35) -> (249.8, 123.35)
  line L14 (249.8, 123.35) -> (249.8, 128.35)
  line L15 (249.8, 123.35) -> (249.8, 128.35)
  point P0 (127, 0)
  dimension "d212" = 4.2
  dimension "d213" = 5
  dimension "d214" = 90
  dimension "d215" = 4.2
  dimension "d216" = 5
  dimension "d217" = 90
  dimension "d218" = 5
extrude "Extrusion22" cut sketch "Sketch21" against normal blind 5 contours L10 L14 L13 L11
extrude "Extrusion23" cut sketch "Sketch18" against normal blind 5 contours A1 | A0 L8 L7 | L7 L8 A0
extrude "Extrusion24" cut sketch "Sketch13" against normal blind 5 contours A4 | A5 L24 L23 | L23 L24 A5 | A1 | A0 | A3 | A2 L22 L21 | L21 L22 A2
hole "Hole1" at (89.6088, 0, -54.8) at (49.6088, 0, -54.8) at (-41.5, 0, -54.8) at (-81.5, 0, -54.8) at (-41.5, 0, 25.4) at (-81.5, 0, 25.4) direction (0, 1, 0) diameter 4 end through all counterbore diameter 6 counterbore depth 3
properties part number "box but slightly bigger"
